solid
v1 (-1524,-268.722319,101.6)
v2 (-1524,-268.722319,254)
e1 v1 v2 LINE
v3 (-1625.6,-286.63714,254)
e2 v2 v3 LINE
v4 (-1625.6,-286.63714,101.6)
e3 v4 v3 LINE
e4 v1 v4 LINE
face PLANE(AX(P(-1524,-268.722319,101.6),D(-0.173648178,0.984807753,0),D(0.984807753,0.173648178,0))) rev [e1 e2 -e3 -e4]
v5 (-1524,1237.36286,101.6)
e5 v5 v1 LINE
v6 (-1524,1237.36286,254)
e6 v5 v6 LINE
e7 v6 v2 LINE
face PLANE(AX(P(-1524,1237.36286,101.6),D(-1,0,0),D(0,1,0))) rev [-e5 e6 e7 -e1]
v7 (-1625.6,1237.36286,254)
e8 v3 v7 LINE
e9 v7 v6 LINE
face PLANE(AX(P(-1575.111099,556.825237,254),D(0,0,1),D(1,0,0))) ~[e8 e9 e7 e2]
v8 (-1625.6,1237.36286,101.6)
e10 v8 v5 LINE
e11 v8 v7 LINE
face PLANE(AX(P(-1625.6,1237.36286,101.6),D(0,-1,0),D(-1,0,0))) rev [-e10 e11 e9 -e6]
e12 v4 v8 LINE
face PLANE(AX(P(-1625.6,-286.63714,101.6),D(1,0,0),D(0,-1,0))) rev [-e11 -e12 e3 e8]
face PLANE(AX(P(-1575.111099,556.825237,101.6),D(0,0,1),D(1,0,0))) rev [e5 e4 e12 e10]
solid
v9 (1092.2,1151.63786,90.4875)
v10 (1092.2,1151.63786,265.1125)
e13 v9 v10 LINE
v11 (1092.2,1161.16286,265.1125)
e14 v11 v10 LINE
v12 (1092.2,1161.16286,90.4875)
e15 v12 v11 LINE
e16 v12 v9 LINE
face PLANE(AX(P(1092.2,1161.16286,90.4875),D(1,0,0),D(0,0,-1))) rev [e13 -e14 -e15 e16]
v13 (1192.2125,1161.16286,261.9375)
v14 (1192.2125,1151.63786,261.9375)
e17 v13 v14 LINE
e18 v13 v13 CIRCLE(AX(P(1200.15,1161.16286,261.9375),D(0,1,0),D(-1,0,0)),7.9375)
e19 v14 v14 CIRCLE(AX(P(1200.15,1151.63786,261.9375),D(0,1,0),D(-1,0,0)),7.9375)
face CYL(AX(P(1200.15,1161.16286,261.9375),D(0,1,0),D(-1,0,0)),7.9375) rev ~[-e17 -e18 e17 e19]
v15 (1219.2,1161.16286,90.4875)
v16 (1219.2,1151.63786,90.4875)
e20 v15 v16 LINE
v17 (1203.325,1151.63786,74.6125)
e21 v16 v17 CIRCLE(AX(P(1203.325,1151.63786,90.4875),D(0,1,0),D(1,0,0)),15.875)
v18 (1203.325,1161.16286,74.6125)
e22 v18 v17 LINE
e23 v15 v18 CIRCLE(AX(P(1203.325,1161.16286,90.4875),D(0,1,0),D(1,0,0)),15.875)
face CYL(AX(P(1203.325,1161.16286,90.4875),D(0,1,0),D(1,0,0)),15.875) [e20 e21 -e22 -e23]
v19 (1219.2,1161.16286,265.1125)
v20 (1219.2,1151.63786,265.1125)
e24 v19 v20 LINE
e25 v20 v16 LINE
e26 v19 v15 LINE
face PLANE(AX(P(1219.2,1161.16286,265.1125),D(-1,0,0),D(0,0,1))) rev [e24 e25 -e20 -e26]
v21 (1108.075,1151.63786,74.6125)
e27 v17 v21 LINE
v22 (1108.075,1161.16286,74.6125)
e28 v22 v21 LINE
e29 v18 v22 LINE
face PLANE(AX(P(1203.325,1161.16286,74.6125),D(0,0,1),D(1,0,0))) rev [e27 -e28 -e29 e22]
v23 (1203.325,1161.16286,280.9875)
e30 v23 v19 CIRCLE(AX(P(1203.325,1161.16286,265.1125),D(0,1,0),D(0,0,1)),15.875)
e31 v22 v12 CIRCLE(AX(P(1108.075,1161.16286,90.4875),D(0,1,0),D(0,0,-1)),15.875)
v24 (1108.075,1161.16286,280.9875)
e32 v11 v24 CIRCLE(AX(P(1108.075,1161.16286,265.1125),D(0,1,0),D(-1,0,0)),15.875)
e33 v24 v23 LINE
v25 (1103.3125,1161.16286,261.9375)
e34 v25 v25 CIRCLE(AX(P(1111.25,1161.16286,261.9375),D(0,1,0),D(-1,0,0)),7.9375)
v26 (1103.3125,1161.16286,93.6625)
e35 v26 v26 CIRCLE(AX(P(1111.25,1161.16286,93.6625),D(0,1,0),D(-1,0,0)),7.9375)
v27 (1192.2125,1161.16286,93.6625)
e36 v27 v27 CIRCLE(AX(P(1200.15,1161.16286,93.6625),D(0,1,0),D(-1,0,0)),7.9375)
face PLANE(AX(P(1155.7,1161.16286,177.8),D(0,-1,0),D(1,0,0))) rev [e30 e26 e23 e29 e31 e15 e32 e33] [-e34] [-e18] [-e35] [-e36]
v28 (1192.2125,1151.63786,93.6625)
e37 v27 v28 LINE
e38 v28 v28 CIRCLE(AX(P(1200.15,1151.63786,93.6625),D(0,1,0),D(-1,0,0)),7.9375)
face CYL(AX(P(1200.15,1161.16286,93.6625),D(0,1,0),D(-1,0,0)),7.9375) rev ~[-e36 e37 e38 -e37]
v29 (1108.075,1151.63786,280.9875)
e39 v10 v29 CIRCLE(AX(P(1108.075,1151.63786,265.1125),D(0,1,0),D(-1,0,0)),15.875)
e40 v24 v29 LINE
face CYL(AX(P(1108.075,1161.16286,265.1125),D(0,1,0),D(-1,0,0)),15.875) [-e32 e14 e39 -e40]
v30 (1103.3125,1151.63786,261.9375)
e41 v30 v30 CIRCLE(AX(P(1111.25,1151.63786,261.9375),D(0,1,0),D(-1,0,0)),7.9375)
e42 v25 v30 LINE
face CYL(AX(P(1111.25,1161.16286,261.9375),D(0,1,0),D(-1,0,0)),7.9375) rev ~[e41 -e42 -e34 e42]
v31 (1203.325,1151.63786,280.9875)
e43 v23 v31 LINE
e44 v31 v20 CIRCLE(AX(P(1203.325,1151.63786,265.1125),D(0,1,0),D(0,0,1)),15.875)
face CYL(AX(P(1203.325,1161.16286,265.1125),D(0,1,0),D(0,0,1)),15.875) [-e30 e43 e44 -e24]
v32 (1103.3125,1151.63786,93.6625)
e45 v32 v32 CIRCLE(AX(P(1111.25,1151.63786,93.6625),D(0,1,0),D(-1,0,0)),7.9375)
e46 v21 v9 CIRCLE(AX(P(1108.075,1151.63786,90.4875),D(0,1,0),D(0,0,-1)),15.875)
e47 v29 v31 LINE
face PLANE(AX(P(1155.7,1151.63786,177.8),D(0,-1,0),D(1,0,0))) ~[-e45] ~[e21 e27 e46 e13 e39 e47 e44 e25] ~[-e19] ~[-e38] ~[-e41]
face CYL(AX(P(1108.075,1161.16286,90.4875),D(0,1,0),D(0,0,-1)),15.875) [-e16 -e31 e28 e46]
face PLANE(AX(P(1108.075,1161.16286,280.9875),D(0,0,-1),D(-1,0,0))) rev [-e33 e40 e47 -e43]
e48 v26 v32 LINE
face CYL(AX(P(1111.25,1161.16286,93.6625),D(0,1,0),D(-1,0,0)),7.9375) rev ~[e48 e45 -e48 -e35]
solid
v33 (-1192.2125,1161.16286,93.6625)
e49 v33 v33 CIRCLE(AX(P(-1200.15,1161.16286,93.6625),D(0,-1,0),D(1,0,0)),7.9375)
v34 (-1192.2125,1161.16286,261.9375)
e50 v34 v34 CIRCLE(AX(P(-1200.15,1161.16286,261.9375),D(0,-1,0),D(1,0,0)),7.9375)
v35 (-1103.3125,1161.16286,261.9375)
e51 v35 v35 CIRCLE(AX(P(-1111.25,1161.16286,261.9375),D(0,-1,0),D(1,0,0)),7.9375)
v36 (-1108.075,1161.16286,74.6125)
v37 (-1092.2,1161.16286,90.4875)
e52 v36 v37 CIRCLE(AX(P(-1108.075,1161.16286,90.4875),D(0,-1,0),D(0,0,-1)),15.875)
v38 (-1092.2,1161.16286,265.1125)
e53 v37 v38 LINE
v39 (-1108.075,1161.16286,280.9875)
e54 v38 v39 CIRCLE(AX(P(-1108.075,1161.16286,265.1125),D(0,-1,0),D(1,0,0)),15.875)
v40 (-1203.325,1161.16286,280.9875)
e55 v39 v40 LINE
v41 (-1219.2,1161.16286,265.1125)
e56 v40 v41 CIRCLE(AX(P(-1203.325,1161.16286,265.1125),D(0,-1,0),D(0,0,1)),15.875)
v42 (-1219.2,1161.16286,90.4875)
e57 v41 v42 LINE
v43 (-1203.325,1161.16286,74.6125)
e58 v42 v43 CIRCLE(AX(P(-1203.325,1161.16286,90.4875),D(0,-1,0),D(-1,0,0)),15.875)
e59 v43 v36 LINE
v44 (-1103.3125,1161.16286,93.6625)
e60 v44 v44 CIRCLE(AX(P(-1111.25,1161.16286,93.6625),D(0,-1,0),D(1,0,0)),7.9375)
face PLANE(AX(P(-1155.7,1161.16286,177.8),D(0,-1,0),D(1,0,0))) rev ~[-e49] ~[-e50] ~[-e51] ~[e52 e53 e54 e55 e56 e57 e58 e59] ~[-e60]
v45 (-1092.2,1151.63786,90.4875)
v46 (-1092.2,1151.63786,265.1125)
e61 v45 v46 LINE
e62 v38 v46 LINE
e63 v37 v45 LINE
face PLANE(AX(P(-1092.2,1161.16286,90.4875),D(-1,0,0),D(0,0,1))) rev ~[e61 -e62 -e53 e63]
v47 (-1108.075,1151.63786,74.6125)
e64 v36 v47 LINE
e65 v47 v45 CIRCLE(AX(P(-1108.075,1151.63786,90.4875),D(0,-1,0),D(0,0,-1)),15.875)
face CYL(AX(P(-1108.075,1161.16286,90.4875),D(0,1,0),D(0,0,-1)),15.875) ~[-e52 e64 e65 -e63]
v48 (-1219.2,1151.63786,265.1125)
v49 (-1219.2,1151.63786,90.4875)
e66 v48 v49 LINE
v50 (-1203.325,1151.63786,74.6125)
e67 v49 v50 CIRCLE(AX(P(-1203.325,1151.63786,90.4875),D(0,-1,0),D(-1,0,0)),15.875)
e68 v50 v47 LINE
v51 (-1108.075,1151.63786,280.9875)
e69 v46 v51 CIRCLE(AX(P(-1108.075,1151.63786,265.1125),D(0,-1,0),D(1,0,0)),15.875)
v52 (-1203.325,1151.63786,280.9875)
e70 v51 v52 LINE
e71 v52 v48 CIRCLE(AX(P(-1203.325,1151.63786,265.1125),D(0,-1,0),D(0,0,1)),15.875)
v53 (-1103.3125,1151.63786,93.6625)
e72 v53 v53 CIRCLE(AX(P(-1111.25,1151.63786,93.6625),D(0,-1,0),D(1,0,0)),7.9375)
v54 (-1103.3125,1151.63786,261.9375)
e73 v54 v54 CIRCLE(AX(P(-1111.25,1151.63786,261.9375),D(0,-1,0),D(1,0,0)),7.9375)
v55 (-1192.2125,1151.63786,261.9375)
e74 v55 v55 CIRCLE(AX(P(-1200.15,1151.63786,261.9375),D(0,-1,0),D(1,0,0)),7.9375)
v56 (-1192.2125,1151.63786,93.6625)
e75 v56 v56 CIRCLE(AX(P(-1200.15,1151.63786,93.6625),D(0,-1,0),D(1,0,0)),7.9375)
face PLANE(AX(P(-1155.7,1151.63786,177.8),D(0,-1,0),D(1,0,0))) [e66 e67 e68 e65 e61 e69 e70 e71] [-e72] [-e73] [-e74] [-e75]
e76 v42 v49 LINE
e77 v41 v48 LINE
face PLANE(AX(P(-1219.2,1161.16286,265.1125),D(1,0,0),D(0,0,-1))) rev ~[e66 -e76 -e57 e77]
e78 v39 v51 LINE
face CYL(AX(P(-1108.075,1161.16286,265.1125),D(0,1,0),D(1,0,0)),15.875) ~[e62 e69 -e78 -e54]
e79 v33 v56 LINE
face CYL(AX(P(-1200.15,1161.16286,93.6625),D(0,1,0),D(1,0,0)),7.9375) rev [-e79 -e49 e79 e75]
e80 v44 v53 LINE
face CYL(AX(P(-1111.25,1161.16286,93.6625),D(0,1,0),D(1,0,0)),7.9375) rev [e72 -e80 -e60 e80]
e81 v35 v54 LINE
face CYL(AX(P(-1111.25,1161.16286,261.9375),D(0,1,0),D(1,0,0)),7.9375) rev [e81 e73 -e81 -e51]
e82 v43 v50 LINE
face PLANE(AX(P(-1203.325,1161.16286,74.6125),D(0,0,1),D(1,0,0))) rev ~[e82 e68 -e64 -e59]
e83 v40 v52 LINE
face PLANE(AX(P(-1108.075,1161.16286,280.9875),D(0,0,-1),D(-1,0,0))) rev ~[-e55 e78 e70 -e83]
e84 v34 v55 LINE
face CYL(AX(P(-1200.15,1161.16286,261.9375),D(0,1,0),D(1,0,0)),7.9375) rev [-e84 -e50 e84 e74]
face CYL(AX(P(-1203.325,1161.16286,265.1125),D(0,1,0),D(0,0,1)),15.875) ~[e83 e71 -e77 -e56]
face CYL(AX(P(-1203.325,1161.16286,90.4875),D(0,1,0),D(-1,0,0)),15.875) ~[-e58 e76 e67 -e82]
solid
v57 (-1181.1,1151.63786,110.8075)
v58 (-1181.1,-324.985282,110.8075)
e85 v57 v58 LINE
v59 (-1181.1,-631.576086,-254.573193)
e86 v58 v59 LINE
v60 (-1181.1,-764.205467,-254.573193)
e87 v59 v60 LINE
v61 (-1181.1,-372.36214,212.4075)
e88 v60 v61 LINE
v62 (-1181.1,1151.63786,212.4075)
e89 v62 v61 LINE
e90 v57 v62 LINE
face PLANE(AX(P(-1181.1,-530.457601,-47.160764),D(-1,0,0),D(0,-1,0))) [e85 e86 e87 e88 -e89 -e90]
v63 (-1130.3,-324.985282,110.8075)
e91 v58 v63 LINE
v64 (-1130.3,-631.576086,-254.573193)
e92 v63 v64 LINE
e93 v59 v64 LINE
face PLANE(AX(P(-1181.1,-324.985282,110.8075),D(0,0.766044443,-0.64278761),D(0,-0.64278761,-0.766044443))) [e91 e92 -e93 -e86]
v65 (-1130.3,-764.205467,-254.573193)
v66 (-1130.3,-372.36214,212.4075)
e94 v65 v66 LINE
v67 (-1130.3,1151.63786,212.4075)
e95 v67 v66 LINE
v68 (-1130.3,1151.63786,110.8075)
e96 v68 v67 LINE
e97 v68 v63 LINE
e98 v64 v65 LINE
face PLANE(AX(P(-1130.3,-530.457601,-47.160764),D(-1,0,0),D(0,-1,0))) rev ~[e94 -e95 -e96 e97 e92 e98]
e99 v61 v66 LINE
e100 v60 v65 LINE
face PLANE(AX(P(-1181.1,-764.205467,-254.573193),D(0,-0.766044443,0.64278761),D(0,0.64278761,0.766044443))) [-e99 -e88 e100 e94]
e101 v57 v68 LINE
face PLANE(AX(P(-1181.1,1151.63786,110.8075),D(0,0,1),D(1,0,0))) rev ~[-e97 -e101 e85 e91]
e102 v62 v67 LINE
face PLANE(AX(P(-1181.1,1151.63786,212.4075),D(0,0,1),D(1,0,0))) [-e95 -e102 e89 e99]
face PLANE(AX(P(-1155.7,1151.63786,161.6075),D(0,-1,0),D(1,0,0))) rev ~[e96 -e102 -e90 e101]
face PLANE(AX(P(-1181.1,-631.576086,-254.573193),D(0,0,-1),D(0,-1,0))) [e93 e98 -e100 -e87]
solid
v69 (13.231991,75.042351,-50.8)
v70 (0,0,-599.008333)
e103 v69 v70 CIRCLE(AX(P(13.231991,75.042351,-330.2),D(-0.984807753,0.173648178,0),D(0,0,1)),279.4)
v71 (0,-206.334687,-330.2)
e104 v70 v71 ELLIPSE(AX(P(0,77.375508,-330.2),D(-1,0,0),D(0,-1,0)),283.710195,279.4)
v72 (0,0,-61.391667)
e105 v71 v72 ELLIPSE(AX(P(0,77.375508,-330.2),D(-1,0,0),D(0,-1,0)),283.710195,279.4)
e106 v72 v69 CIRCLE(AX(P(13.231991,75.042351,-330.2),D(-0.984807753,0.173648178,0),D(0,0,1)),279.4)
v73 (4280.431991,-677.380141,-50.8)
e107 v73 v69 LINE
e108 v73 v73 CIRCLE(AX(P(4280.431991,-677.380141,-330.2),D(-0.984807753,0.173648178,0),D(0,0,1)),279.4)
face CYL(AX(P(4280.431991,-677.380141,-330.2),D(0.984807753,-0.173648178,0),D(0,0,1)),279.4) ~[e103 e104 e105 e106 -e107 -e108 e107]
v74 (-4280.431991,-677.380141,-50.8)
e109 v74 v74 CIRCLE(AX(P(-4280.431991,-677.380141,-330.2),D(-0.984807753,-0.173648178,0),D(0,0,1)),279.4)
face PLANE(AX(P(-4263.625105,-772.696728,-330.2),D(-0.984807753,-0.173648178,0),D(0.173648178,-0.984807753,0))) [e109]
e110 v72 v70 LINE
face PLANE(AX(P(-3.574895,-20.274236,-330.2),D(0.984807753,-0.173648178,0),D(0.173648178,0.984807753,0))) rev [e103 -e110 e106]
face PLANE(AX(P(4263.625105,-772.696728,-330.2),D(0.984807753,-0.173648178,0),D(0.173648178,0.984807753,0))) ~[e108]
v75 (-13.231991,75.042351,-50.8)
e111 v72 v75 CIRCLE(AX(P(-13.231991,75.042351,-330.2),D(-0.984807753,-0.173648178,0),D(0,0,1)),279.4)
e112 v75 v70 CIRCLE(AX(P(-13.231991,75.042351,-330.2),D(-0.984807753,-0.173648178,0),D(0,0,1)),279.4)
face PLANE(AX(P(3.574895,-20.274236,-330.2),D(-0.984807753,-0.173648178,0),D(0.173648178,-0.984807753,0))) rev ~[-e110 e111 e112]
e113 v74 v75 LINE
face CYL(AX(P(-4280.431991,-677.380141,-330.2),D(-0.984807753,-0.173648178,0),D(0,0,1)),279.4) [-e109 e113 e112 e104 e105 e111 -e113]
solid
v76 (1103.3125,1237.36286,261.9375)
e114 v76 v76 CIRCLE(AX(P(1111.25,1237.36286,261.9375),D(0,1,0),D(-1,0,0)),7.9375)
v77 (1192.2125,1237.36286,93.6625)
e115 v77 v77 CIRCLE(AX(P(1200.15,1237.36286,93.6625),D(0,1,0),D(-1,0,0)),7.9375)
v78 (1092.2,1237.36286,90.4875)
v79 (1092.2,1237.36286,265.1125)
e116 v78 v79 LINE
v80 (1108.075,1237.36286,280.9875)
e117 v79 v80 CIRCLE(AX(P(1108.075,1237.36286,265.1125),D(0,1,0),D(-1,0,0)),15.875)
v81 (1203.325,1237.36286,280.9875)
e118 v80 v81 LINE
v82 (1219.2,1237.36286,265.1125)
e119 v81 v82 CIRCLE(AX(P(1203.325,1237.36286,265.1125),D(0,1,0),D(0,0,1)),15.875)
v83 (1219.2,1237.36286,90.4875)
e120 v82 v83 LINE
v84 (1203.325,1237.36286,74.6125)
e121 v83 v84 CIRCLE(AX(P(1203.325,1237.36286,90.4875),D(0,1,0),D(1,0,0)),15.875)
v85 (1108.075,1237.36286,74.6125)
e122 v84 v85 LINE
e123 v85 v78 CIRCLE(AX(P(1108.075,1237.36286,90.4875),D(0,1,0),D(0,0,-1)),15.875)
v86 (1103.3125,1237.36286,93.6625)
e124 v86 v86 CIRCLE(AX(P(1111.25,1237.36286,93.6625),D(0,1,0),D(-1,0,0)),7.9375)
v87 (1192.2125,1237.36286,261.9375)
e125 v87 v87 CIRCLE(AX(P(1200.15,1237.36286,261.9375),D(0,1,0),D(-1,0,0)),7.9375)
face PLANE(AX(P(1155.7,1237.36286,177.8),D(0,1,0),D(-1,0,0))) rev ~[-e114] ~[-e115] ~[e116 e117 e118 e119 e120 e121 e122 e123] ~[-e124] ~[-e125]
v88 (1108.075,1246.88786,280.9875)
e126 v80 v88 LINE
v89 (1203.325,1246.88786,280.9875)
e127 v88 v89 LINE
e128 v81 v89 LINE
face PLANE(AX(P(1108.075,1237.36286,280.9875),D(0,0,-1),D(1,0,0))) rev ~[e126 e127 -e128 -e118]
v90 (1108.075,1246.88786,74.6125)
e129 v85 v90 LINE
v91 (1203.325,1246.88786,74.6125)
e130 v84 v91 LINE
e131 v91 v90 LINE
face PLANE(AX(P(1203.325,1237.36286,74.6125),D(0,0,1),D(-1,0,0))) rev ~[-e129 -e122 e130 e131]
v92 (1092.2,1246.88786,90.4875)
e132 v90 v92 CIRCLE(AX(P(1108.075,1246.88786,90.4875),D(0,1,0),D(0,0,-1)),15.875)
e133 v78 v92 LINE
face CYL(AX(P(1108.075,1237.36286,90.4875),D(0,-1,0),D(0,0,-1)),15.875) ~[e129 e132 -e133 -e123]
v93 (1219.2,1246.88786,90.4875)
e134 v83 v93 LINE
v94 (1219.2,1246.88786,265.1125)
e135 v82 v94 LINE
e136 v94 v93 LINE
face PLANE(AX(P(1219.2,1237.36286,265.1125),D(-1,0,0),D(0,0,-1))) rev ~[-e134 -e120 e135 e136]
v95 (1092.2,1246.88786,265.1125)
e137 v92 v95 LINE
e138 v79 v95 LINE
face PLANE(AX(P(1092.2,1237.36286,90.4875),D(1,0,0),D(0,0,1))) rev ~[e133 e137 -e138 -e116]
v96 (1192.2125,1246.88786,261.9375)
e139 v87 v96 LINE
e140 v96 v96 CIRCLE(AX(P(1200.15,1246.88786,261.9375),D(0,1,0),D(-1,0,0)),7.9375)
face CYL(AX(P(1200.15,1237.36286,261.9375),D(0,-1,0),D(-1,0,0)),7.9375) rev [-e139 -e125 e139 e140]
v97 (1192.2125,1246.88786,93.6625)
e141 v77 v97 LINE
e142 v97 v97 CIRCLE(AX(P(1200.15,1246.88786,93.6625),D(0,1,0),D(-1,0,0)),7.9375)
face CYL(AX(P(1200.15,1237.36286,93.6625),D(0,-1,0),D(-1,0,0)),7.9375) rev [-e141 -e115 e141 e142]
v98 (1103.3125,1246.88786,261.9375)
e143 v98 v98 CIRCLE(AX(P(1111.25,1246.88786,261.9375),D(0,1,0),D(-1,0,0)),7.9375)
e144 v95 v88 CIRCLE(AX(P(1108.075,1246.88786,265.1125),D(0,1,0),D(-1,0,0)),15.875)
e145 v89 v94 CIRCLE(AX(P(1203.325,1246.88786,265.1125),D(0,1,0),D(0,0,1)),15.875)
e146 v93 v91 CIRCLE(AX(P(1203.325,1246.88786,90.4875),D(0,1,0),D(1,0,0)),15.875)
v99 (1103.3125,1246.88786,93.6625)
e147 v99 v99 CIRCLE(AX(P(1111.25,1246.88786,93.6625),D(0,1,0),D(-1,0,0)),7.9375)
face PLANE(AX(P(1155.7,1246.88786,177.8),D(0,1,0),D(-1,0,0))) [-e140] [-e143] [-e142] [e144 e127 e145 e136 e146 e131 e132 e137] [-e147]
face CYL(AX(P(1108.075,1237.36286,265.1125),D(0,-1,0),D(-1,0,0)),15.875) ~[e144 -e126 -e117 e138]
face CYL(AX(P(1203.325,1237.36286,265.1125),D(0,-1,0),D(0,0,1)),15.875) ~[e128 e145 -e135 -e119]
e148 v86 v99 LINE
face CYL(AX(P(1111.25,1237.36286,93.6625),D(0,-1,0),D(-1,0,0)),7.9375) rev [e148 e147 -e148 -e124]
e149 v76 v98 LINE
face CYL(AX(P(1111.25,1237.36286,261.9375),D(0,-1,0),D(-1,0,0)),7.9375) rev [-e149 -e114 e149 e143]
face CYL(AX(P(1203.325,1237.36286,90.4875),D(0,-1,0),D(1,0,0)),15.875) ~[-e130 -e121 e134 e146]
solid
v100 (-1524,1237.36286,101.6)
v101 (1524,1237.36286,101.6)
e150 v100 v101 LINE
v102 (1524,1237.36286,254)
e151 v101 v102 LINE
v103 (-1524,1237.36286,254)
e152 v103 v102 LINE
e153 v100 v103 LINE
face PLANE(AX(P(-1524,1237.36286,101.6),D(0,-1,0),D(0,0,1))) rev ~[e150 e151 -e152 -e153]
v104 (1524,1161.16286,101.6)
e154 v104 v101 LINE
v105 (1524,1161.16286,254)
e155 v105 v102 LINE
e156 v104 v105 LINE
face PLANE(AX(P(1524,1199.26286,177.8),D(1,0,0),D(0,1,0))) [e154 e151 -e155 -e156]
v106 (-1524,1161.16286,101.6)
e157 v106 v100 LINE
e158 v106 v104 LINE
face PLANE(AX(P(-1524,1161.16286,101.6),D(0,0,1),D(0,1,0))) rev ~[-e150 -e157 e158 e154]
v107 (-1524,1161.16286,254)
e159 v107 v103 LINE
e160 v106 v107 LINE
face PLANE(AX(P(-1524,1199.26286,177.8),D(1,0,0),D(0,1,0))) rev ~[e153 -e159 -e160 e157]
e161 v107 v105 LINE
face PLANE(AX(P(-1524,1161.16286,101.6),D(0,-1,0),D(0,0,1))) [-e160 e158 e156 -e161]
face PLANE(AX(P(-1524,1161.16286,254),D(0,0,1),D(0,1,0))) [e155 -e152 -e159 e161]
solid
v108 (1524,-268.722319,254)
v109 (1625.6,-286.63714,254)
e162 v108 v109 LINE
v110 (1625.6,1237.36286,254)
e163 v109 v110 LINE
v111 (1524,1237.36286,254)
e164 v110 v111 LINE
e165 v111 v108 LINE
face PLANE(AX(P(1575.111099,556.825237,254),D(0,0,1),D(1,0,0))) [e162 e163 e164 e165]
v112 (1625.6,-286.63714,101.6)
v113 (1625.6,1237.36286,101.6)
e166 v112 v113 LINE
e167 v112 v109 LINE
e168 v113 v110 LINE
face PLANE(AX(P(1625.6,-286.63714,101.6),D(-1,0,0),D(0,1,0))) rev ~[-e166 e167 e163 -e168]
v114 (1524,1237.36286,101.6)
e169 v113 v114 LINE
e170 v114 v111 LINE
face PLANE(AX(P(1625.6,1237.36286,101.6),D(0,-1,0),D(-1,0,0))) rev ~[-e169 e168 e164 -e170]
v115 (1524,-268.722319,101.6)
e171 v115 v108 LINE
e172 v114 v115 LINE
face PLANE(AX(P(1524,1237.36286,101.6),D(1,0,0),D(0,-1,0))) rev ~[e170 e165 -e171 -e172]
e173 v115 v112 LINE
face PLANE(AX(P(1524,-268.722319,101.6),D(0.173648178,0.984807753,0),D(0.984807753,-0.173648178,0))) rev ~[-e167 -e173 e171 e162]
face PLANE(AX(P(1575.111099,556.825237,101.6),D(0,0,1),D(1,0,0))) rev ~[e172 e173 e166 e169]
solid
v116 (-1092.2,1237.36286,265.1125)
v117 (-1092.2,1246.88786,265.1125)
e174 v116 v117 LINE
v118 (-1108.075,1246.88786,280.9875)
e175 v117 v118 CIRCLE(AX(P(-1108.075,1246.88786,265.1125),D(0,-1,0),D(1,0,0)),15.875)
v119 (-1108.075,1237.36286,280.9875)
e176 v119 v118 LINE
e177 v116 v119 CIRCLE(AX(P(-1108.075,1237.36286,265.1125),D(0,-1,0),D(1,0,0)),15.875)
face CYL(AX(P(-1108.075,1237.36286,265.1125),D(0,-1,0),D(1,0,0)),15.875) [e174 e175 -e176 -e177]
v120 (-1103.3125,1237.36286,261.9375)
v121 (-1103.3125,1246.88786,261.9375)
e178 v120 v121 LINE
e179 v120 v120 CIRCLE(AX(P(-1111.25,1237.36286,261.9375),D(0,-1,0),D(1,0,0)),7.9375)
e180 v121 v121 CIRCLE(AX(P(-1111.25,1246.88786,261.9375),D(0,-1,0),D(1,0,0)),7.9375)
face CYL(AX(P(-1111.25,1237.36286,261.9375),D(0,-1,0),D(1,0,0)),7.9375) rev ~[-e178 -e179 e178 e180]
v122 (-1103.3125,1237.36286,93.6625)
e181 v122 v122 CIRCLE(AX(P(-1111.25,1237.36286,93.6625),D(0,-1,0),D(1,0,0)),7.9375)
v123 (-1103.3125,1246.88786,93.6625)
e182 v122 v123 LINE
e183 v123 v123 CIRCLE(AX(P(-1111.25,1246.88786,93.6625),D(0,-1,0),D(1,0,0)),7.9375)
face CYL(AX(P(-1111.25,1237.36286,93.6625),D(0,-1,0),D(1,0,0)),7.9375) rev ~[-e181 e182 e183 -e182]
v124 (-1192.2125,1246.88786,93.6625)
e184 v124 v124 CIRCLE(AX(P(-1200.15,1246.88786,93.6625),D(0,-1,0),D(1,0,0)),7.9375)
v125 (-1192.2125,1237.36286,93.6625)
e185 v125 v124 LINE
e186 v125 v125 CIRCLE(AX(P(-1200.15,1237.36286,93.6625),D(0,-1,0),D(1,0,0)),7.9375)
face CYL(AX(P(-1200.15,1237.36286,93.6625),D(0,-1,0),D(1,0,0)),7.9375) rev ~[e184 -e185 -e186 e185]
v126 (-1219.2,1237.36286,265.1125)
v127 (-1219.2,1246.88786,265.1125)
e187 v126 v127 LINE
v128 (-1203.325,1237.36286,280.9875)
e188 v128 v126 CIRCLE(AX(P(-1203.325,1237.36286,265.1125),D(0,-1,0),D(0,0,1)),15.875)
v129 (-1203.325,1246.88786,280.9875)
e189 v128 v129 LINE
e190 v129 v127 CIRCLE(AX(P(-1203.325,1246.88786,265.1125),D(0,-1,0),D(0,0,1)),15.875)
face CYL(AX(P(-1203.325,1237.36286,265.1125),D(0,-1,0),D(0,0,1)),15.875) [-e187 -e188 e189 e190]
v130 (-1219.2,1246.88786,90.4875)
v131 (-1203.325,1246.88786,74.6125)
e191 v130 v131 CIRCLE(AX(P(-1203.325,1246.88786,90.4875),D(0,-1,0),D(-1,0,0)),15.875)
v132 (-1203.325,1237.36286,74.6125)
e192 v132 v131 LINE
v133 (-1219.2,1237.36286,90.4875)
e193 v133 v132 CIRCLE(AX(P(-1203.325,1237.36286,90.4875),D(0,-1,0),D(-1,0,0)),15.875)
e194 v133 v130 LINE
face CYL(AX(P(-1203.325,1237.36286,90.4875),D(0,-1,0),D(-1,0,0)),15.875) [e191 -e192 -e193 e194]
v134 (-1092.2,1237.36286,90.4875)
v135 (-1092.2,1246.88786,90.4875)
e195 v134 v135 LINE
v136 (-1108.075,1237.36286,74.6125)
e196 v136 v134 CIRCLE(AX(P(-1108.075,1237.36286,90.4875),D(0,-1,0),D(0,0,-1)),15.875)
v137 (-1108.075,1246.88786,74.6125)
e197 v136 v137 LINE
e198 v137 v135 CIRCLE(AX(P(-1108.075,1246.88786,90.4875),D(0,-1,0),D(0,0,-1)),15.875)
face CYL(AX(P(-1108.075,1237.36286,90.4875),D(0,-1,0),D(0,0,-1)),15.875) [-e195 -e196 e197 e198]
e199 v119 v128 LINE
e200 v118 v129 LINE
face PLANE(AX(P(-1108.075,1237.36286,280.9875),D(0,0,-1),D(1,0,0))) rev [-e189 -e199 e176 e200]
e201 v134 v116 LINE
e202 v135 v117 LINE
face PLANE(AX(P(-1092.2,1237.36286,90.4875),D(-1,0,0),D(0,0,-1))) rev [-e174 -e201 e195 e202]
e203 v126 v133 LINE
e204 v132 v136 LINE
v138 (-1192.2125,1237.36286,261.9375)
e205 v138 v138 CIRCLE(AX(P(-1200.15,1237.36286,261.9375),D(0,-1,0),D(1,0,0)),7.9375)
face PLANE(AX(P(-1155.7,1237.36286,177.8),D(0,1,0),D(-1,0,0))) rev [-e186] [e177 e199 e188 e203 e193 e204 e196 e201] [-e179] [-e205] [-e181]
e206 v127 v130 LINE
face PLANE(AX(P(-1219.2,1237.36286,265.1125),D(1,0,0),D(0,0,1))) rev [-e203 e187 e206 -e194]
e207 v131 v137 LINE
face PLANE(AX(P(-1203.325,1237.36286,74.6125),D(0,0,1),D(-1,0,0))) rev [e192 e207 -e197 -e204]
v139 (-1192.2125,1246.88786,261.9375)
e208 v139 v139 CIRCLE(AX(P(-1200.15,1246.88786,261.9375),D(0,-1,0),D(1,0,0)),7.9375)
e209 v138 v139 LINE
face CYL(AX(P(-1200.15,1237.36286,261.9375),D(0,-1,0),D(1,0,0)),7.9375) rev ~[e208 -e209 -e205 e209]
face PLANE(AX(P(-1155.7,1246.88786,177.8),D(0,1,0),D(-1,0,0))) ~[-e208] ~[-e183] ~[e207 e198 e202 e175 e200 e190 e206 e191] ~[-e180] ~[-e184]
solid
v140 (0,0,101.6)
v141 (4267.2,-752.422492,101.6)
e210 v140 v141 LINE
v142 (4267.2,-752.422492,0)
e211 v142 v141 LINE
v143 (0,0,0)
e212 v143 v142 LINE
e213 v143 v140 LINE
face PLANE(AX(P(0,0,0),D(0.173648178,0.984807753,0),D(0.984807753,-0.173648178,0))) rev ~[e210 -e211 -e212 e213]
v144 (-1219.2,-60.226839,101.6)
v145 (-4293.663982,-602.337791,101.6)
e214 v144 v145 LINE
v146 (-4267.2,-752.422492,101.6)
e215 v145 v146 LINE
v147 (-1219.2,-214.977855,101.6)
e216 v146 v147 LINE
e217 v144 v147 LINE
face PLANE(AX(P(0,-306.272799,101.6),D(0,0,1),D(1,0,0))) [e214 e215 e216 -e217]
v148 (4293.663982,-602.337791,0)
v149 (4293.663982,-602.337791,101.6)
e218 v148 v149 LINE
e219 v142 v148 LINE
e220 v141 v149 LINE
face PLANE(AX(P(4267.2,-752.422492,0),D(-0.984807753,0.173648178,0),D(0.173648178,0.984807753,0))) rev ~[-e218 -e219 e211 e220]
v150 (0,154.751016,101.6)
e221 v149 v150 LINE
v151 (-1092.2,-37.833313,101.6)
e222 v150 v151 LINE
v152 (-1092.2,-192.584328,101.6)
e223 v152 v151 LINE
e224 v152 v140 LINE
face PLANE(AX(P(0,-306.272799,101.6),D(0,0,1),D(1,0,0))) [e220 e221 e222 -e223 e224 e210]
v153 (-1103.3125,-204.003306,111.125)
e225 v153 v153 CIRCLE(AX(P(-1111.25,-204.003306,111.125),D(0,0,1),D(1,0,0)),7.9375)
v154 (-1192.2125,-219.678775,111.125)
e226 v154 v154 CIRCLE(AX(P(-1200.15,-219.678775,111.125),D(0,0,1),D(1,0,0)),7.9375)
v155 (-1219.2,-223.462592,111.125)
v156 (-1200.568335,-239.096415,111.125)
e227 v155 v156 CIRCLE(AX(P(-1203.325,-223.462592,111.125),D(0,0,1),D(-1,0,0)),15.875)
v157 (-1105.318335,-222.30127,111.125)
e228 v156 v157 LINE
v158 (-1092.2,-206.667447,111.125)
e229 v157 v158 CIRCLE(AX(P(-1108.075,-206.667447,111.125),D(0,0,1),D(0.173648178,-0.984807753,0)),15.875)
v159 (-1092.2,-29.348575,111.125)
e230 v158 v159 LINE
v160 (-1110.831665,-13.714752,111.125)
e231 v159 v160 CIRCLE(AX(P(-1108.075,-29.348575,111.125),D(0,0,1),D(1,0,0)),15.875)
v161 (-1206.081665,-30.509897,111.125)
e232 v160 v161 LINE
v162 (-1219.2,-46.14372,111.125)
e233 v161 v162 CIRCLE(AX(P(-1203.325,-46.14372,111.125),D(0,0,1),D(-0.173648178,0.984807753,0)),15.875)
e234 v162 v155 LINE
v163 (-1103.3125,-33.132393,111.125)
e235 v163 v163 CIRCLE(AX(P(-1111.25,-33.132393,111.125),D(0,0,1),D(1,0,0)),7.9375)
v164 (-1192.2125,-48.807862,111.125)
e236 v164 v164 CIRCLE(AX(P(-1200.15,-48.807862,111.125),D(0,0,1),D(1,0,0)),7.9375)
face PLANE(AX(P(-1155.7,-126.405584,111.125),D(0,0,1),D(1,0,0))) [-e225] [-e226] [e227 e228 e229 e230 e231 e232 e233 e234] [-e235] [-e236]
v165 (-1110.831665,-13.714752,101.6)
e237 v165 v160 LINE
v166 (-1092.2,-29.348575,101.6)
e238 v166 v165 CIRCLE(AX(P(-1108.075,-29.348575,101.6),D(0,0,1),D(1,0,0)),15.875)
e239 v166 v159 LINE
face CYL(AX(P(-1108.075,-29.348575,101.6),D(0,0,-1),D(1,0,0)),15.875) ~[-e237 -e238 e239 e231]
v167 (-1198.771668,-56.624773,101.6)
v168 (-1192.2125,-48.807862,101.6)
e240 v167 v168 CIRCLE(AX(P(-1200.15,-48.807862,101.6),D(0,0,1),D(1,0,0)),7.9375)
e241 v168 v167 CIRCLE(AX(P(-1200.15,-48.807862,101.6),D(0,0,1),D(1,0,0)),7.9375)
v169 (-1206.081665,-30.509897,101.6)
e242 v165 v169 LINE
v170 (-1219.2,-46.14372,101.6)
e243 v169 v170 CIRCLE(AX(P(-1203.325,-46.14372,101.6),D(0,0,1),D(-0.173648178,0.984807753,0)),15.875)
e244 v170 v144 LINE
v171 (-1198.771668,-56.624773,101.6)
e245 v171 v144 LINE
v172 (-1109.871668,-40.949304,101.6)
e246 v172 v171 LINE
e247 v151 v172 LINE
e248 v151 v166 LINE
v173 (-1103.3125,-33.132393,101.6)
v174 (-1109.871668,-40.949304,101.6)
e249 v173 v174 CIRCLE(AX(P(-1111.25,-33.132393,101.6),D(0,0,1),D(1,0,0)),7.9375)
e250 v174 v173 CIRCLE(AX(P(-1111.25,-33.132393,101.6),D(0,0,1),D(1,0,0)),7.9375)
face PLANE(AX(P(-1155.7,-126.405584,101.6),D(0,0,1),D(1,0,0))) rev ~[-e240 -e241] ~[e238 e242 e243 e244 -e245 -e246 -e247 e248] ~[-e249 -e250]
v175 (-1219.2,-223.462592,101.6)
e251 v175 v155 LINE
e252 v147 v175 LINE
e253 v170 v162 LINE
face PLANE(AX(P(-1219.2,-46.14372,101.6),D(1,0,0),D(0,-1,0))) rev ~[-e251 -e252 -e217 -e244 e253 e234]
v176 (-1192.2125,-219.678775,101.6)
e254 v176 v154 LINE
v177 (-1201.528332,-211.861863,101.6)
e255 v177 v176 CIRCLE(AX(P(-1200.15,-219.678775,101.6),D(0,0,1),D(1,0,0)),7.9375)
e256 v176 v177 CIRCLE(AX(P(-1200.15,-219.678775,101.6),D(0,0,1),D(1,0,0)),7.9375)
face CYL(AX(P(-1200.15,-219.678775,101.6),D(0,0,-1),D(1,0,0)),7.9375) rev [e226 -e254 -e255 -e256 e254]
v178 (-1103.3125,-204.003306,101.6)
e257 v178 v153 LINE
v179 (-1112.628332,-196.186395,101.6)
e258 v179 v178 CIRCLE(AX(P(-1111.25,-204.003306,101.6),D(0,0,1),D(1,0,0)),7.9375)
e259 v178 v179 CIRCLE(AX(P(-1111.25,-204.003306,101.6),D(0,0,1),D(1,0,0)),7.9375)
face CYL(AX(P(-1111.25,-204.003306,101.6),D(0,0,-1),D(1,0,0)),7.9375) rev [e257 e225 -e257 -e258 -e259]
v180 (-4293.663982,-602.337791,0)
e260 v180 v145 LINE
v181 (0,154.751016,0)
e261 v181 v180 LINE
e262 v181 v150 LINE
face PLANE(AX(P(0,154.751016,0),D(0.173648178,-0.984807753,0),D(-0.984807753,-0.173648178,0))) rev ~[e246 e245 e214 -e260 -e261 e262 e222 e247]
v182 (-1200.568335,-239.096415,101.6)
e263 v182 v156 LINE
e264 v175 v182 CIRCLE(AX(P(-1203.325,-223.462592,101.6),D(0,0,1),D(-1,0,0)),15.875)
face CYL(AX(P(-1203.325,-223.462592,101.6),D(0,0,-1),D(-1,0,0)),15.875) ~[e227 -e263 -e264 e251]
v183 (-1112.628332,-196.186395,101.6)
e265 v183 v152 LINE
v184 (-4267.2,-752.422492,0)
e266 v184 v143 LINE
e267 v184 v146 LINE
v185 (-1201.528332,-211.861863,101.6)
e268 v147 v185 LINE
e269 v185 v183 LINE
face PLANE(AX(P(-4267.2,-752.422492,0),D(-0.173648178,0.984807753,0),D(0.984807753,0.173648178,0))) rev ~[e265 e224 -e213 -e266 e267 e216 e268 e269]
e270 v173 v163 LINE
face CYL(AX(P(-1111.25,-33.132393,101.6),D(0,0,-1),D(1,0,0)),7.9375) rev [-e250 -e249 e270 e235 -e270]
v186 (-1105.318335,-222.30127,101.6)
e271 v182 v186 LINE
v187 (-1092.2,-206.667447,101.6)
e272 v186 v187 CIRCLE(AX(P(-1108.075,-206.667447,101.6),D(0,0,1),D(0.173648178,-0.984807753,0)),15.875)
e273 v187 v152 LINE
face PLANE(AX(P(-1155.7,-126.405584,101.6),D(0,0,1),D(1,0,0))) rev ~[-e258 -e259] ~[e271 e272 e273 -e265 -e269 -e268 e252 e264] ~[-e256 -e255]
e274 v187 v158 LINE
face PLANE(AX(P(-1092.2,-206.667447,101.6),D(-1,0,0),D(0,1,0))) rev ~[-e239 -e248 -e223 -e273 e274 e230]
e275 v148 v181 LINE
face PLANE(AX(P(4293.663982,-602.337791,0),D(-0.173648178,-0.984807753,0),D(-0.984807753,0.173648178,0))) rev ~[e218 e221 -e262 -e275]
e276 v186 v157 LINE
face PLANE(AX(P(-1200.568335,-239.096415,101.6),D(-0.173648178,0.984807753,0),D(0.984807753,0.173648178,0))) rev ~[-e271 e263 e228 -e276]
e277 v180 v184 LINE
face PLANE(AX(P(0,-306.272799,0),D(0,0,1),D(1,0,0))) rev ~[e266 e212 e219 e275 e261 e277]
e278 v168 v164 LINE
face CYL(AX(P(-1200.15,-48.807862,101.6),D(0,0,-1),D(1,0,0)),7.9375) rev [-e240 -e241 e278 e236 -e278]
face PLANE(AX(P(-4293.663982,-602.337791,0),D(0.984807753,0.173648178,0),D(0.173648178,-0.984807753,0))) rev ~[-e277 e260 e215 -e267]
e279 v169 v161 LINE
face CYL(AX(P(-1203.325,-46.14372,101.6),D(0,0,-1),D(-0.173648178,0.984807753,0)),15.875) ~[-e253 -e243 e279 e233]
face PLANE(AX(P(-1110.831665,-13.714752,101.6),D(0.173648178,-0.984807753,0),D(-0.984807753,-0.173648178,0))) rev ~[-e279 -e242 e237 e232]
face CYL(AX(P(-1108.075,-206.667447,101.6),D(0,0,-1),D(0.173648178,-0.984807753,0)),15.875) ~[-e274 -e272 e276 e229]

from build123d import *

# Parameters (mm, degrees)
F1_DEPTH  = 101.6
F3_DEPTH  = 152.4
F5_W      = 76.2
F5_H      = 152.4
F6_DEPTH  = 3048
F7_R      = 7.9375
F8_DEPTH  = 9.525
F12_R     = 7.9375
F13_DEPTH = 9.525
F14_W     = 50.8
F14_H     = 101.6
F15_DEPTH = 1524
F17_DEPTH = 50.8
F19_DEPTH = 50.8
F21_DEPTH = 4333.0284382389


with BuildPart() as f1:
    # F0 (on Top) → F1 (new body)
    with BuildSketch(Plane.XY):
        Polygon((-4293.6639822764, -602.3377905201), (-4267.2, -752.4224920792), (0, 0), (4267.2, -752.4224920792), (4293.6639822765, -602.3377905201), (0, 154.7510156514), align=None)
    extrude(amount=F1_DEPTH)

    # F12 (on face) → F13 (join)
    with BuildSketch(Plane.XY.offset(101.6)):
        with BuildLine():
            ThreePointArc((-1206.0816648205, -30.509897106), (-1215.4859555345, -35.9394668813), (-1219.2, -46.143720185))
            Line((-1219.2, -46.143720185), (-1219.2, -223.4625922856))
            ThreePointArc((-1219.2, -223.4625922856), (-1213.5292533038, -235.6235478201), (-1200.5683351795, -239.0964153647))
            Line((-1200.5683351795, -239.0964153647), (-1105.3183351795, -222.3012704522))
            ThreePointArc((-1105.3183351795, -222.3012704522), (-1095.9140444655, -216.8717006769), (-1092.2, -206.6674473731))
            Line((-1092.2, -206.6674473731), (-1092.2, -29.3485752726))
            ThreePointArc((-1092.2, -29.3485752726), (-1097.8707466962, -17.1876197381), (-1110.8316648205, -13.7147521935))
            Line((-1110.8316648205, -13.7147521935), (-1206.0816648205, -30.509897106))
        make_face()
        with Locations((-1200.15, -219.6787746291)):
            Circle(F12_R, mode=Mode.SUBTRACT)
        with Locations((-1111.25, -204.0033060441)):
            Circle(F12_R, mode=Mode.SUBTRACT)
        with Locations((-1200.15, -48.807861514)):
            Circle(F12_R, mode=Mode.SUBTRACT)
        with Locations((-1111.25, -33.1323929291)):
            Circle(F12_R, mode=Mode.SUBTRACT)
    extrude(amount=F13_DEPTH)


with BuildPart() as f3:
    # F2 (on face) → F3 (new body)
    with BuildSketch(Plane.XY.offset(101.6)):
        Polygon((1524, 1237.3628601603), (1524, -113.9713029483), (1625.6, -131.8861241883), (1625.6, 1237.3628601603), align=None)
        Polygon((1524, -113.9713029483), (1524, -268.7223185997), (1625.6, -286.6371398397), (1625.6, -131.8861241883), align=None)
    extrude(amount=F3_DEPTH)


with BuildPart() as f4_1:
    # F4: instance of F3
    add(f3.part.mirror(Plane.YZ))


with BuildPart() as f6:
    # F5 (on face) → F6 (new body, through all)
    with BuildSketch(Plane.YZ.offset(-1524)):
        with Locations((1199.2628601603, 177.8)):
            Rectangle(F5_W, F5_H)
    extrude(amount=F6_DEPTH)


with BuildPart() as f8:
    # F7 (on face) → F8 (new body)
    with BuildSketch(Plane.XZ.offset(-1161.1628601603)):
        with BuildLine():
            Line((-1203.325, 74.6125), (-1108.075, 74.6125))
            ThreePointArc((-1108.075, 74.6125), (-1096.8496798487, 79.2621798487), (-1092.2, 90.4875))
            Line((-1092.2, 90.4875), (-1092.2, 265.1125))
            ThreePointArc((-1092.2, 265.1125), (-1096.8496798487, 276.3378201513), (-1108.075, 280.9875))
            Line((-1108.075, 280.9875), (-1203.325, 280.9875))
            ThreePointArc((-1203.325, 280.9875), (-1214.5503201513, 276.3378201513), (-1219.2, 265.1125))
            Line((-1219.2, 265.1125), (-1219.2, 90.4875))
            ThreePointArc((-1219.2, 90.4875), (-1214.5503201513, 79.2621798487), (-1203.325, 74.6125))
        make_face()
        with Locations((-1200.15, 93.6625)):
            Circle(F7_R, mode=Mode.SUBTRACT)
        with Locations((-1111.25, 93.6625)):
            Circle(F7_R, mode=Mode.SUBTRACT)
        with Locations((-1200.15, 261.9375)):
            Circle(F7_R, mode=Mode.SUBTRACT)
        with Locations((-1111.25, 261.9375)):
            Circle(F7_R, mode=Mode.SUBTRACT)
    extrude(amount=F8_DEPTH)


with BuildPart() as f10_1:
    # F10: instance of F8
    add(f8.part.mirror(Plane(origin=(0, 1199.2628601603, 177.8), x_dir=(1, 0, 0), z_dir=(0, -1, 0))))


with BuildPart() as f11_1:
    # F11: instance of F8
    add(f8.part.mirror(Plane.YZ))


with BuildPart() as f11_2:
    # F11: instance of F10_1
    add(f10_1.part.mirror(Plane.YZ))


with BuildPart() as f15:
    # F14 (on face) → F15 (new body)
    with BuildSketch(Plane.XZ.offset(-1151.6378601603)):
        with Locations((-1155.7, 161.6075)):
            Rectangle(F14_W, F14_H)
    extrude(amount=F15_DEPTH)

    # F16 (on face) → F17 (cut, through all)
    with BuildSketch(Plane(origin=(-1181.1, 0, 0), x_dir=(0, -1, 0), z_dir=(-1, 0, 0))):
        Polygon((372.3621398397, 110.8075), (372.3621398397, 212.4075), (324.9852817711, 110.8075), align=None)
    extrude(amount=-F17_DEPTH, mode=Mode.SUBTRACT)

    # F18 (on face) → F19 (join, through all)
    with BuildSketch(Plane(origin=(-1181.1, 0, 0), x_dir=(0, -1, 0), z_dir=(-1, 0, 0))):
        Polygon((372.3621398397, 212.4075), (324.9852817711, 110.8075), (631.5760861084, -254.5731925253), (764.2054667046, -254.5731925253), align=None)
    extrude(amount=-F19_DEPTH)


with BuildPart() as f21:
    # F20 (on face) → F21 (new body, through all)
    with BuildSketch(Plane(origin=(-4267.2, -752.4224920792, 0), x_dir=(0.1736481777, -0.984807753, 0), z_dir=(-0.984807753, -0.1736481777, 0))):
        with BuildLine():
            ThreePointArc((203.2, -330.2), (121.3656346635, -132.6343653365), (-76.2, -50.8))
            Line((-76.2, -50.8), (-76.2, -609.6))
            ThreePointArc((-76.2, -609.6), (121.3656346635, -527.7656346635), (203.2, -330.2))
        make_face()
        with BuildLine():
            Line((-76.2, -609.6), (-76.2, -50.8))
            ThreePointArc((-76.2, -50.8), (-355.6, -330.2), (-76.2, -609.6))
        make_face()
    extrude(amount=-F21_DEPTH)

    # F22: F21 across plane


with BuildPart() as f21_1:
    add(f21.part)
    add(f21.part.mirror(Plane.YZ))


solid = Compound([f1.part, f3.part, f4_1.part, f6.part, f8.part, f10_1.part, f11_1.part, f11_2.part, f15.part, f21_1.part])
